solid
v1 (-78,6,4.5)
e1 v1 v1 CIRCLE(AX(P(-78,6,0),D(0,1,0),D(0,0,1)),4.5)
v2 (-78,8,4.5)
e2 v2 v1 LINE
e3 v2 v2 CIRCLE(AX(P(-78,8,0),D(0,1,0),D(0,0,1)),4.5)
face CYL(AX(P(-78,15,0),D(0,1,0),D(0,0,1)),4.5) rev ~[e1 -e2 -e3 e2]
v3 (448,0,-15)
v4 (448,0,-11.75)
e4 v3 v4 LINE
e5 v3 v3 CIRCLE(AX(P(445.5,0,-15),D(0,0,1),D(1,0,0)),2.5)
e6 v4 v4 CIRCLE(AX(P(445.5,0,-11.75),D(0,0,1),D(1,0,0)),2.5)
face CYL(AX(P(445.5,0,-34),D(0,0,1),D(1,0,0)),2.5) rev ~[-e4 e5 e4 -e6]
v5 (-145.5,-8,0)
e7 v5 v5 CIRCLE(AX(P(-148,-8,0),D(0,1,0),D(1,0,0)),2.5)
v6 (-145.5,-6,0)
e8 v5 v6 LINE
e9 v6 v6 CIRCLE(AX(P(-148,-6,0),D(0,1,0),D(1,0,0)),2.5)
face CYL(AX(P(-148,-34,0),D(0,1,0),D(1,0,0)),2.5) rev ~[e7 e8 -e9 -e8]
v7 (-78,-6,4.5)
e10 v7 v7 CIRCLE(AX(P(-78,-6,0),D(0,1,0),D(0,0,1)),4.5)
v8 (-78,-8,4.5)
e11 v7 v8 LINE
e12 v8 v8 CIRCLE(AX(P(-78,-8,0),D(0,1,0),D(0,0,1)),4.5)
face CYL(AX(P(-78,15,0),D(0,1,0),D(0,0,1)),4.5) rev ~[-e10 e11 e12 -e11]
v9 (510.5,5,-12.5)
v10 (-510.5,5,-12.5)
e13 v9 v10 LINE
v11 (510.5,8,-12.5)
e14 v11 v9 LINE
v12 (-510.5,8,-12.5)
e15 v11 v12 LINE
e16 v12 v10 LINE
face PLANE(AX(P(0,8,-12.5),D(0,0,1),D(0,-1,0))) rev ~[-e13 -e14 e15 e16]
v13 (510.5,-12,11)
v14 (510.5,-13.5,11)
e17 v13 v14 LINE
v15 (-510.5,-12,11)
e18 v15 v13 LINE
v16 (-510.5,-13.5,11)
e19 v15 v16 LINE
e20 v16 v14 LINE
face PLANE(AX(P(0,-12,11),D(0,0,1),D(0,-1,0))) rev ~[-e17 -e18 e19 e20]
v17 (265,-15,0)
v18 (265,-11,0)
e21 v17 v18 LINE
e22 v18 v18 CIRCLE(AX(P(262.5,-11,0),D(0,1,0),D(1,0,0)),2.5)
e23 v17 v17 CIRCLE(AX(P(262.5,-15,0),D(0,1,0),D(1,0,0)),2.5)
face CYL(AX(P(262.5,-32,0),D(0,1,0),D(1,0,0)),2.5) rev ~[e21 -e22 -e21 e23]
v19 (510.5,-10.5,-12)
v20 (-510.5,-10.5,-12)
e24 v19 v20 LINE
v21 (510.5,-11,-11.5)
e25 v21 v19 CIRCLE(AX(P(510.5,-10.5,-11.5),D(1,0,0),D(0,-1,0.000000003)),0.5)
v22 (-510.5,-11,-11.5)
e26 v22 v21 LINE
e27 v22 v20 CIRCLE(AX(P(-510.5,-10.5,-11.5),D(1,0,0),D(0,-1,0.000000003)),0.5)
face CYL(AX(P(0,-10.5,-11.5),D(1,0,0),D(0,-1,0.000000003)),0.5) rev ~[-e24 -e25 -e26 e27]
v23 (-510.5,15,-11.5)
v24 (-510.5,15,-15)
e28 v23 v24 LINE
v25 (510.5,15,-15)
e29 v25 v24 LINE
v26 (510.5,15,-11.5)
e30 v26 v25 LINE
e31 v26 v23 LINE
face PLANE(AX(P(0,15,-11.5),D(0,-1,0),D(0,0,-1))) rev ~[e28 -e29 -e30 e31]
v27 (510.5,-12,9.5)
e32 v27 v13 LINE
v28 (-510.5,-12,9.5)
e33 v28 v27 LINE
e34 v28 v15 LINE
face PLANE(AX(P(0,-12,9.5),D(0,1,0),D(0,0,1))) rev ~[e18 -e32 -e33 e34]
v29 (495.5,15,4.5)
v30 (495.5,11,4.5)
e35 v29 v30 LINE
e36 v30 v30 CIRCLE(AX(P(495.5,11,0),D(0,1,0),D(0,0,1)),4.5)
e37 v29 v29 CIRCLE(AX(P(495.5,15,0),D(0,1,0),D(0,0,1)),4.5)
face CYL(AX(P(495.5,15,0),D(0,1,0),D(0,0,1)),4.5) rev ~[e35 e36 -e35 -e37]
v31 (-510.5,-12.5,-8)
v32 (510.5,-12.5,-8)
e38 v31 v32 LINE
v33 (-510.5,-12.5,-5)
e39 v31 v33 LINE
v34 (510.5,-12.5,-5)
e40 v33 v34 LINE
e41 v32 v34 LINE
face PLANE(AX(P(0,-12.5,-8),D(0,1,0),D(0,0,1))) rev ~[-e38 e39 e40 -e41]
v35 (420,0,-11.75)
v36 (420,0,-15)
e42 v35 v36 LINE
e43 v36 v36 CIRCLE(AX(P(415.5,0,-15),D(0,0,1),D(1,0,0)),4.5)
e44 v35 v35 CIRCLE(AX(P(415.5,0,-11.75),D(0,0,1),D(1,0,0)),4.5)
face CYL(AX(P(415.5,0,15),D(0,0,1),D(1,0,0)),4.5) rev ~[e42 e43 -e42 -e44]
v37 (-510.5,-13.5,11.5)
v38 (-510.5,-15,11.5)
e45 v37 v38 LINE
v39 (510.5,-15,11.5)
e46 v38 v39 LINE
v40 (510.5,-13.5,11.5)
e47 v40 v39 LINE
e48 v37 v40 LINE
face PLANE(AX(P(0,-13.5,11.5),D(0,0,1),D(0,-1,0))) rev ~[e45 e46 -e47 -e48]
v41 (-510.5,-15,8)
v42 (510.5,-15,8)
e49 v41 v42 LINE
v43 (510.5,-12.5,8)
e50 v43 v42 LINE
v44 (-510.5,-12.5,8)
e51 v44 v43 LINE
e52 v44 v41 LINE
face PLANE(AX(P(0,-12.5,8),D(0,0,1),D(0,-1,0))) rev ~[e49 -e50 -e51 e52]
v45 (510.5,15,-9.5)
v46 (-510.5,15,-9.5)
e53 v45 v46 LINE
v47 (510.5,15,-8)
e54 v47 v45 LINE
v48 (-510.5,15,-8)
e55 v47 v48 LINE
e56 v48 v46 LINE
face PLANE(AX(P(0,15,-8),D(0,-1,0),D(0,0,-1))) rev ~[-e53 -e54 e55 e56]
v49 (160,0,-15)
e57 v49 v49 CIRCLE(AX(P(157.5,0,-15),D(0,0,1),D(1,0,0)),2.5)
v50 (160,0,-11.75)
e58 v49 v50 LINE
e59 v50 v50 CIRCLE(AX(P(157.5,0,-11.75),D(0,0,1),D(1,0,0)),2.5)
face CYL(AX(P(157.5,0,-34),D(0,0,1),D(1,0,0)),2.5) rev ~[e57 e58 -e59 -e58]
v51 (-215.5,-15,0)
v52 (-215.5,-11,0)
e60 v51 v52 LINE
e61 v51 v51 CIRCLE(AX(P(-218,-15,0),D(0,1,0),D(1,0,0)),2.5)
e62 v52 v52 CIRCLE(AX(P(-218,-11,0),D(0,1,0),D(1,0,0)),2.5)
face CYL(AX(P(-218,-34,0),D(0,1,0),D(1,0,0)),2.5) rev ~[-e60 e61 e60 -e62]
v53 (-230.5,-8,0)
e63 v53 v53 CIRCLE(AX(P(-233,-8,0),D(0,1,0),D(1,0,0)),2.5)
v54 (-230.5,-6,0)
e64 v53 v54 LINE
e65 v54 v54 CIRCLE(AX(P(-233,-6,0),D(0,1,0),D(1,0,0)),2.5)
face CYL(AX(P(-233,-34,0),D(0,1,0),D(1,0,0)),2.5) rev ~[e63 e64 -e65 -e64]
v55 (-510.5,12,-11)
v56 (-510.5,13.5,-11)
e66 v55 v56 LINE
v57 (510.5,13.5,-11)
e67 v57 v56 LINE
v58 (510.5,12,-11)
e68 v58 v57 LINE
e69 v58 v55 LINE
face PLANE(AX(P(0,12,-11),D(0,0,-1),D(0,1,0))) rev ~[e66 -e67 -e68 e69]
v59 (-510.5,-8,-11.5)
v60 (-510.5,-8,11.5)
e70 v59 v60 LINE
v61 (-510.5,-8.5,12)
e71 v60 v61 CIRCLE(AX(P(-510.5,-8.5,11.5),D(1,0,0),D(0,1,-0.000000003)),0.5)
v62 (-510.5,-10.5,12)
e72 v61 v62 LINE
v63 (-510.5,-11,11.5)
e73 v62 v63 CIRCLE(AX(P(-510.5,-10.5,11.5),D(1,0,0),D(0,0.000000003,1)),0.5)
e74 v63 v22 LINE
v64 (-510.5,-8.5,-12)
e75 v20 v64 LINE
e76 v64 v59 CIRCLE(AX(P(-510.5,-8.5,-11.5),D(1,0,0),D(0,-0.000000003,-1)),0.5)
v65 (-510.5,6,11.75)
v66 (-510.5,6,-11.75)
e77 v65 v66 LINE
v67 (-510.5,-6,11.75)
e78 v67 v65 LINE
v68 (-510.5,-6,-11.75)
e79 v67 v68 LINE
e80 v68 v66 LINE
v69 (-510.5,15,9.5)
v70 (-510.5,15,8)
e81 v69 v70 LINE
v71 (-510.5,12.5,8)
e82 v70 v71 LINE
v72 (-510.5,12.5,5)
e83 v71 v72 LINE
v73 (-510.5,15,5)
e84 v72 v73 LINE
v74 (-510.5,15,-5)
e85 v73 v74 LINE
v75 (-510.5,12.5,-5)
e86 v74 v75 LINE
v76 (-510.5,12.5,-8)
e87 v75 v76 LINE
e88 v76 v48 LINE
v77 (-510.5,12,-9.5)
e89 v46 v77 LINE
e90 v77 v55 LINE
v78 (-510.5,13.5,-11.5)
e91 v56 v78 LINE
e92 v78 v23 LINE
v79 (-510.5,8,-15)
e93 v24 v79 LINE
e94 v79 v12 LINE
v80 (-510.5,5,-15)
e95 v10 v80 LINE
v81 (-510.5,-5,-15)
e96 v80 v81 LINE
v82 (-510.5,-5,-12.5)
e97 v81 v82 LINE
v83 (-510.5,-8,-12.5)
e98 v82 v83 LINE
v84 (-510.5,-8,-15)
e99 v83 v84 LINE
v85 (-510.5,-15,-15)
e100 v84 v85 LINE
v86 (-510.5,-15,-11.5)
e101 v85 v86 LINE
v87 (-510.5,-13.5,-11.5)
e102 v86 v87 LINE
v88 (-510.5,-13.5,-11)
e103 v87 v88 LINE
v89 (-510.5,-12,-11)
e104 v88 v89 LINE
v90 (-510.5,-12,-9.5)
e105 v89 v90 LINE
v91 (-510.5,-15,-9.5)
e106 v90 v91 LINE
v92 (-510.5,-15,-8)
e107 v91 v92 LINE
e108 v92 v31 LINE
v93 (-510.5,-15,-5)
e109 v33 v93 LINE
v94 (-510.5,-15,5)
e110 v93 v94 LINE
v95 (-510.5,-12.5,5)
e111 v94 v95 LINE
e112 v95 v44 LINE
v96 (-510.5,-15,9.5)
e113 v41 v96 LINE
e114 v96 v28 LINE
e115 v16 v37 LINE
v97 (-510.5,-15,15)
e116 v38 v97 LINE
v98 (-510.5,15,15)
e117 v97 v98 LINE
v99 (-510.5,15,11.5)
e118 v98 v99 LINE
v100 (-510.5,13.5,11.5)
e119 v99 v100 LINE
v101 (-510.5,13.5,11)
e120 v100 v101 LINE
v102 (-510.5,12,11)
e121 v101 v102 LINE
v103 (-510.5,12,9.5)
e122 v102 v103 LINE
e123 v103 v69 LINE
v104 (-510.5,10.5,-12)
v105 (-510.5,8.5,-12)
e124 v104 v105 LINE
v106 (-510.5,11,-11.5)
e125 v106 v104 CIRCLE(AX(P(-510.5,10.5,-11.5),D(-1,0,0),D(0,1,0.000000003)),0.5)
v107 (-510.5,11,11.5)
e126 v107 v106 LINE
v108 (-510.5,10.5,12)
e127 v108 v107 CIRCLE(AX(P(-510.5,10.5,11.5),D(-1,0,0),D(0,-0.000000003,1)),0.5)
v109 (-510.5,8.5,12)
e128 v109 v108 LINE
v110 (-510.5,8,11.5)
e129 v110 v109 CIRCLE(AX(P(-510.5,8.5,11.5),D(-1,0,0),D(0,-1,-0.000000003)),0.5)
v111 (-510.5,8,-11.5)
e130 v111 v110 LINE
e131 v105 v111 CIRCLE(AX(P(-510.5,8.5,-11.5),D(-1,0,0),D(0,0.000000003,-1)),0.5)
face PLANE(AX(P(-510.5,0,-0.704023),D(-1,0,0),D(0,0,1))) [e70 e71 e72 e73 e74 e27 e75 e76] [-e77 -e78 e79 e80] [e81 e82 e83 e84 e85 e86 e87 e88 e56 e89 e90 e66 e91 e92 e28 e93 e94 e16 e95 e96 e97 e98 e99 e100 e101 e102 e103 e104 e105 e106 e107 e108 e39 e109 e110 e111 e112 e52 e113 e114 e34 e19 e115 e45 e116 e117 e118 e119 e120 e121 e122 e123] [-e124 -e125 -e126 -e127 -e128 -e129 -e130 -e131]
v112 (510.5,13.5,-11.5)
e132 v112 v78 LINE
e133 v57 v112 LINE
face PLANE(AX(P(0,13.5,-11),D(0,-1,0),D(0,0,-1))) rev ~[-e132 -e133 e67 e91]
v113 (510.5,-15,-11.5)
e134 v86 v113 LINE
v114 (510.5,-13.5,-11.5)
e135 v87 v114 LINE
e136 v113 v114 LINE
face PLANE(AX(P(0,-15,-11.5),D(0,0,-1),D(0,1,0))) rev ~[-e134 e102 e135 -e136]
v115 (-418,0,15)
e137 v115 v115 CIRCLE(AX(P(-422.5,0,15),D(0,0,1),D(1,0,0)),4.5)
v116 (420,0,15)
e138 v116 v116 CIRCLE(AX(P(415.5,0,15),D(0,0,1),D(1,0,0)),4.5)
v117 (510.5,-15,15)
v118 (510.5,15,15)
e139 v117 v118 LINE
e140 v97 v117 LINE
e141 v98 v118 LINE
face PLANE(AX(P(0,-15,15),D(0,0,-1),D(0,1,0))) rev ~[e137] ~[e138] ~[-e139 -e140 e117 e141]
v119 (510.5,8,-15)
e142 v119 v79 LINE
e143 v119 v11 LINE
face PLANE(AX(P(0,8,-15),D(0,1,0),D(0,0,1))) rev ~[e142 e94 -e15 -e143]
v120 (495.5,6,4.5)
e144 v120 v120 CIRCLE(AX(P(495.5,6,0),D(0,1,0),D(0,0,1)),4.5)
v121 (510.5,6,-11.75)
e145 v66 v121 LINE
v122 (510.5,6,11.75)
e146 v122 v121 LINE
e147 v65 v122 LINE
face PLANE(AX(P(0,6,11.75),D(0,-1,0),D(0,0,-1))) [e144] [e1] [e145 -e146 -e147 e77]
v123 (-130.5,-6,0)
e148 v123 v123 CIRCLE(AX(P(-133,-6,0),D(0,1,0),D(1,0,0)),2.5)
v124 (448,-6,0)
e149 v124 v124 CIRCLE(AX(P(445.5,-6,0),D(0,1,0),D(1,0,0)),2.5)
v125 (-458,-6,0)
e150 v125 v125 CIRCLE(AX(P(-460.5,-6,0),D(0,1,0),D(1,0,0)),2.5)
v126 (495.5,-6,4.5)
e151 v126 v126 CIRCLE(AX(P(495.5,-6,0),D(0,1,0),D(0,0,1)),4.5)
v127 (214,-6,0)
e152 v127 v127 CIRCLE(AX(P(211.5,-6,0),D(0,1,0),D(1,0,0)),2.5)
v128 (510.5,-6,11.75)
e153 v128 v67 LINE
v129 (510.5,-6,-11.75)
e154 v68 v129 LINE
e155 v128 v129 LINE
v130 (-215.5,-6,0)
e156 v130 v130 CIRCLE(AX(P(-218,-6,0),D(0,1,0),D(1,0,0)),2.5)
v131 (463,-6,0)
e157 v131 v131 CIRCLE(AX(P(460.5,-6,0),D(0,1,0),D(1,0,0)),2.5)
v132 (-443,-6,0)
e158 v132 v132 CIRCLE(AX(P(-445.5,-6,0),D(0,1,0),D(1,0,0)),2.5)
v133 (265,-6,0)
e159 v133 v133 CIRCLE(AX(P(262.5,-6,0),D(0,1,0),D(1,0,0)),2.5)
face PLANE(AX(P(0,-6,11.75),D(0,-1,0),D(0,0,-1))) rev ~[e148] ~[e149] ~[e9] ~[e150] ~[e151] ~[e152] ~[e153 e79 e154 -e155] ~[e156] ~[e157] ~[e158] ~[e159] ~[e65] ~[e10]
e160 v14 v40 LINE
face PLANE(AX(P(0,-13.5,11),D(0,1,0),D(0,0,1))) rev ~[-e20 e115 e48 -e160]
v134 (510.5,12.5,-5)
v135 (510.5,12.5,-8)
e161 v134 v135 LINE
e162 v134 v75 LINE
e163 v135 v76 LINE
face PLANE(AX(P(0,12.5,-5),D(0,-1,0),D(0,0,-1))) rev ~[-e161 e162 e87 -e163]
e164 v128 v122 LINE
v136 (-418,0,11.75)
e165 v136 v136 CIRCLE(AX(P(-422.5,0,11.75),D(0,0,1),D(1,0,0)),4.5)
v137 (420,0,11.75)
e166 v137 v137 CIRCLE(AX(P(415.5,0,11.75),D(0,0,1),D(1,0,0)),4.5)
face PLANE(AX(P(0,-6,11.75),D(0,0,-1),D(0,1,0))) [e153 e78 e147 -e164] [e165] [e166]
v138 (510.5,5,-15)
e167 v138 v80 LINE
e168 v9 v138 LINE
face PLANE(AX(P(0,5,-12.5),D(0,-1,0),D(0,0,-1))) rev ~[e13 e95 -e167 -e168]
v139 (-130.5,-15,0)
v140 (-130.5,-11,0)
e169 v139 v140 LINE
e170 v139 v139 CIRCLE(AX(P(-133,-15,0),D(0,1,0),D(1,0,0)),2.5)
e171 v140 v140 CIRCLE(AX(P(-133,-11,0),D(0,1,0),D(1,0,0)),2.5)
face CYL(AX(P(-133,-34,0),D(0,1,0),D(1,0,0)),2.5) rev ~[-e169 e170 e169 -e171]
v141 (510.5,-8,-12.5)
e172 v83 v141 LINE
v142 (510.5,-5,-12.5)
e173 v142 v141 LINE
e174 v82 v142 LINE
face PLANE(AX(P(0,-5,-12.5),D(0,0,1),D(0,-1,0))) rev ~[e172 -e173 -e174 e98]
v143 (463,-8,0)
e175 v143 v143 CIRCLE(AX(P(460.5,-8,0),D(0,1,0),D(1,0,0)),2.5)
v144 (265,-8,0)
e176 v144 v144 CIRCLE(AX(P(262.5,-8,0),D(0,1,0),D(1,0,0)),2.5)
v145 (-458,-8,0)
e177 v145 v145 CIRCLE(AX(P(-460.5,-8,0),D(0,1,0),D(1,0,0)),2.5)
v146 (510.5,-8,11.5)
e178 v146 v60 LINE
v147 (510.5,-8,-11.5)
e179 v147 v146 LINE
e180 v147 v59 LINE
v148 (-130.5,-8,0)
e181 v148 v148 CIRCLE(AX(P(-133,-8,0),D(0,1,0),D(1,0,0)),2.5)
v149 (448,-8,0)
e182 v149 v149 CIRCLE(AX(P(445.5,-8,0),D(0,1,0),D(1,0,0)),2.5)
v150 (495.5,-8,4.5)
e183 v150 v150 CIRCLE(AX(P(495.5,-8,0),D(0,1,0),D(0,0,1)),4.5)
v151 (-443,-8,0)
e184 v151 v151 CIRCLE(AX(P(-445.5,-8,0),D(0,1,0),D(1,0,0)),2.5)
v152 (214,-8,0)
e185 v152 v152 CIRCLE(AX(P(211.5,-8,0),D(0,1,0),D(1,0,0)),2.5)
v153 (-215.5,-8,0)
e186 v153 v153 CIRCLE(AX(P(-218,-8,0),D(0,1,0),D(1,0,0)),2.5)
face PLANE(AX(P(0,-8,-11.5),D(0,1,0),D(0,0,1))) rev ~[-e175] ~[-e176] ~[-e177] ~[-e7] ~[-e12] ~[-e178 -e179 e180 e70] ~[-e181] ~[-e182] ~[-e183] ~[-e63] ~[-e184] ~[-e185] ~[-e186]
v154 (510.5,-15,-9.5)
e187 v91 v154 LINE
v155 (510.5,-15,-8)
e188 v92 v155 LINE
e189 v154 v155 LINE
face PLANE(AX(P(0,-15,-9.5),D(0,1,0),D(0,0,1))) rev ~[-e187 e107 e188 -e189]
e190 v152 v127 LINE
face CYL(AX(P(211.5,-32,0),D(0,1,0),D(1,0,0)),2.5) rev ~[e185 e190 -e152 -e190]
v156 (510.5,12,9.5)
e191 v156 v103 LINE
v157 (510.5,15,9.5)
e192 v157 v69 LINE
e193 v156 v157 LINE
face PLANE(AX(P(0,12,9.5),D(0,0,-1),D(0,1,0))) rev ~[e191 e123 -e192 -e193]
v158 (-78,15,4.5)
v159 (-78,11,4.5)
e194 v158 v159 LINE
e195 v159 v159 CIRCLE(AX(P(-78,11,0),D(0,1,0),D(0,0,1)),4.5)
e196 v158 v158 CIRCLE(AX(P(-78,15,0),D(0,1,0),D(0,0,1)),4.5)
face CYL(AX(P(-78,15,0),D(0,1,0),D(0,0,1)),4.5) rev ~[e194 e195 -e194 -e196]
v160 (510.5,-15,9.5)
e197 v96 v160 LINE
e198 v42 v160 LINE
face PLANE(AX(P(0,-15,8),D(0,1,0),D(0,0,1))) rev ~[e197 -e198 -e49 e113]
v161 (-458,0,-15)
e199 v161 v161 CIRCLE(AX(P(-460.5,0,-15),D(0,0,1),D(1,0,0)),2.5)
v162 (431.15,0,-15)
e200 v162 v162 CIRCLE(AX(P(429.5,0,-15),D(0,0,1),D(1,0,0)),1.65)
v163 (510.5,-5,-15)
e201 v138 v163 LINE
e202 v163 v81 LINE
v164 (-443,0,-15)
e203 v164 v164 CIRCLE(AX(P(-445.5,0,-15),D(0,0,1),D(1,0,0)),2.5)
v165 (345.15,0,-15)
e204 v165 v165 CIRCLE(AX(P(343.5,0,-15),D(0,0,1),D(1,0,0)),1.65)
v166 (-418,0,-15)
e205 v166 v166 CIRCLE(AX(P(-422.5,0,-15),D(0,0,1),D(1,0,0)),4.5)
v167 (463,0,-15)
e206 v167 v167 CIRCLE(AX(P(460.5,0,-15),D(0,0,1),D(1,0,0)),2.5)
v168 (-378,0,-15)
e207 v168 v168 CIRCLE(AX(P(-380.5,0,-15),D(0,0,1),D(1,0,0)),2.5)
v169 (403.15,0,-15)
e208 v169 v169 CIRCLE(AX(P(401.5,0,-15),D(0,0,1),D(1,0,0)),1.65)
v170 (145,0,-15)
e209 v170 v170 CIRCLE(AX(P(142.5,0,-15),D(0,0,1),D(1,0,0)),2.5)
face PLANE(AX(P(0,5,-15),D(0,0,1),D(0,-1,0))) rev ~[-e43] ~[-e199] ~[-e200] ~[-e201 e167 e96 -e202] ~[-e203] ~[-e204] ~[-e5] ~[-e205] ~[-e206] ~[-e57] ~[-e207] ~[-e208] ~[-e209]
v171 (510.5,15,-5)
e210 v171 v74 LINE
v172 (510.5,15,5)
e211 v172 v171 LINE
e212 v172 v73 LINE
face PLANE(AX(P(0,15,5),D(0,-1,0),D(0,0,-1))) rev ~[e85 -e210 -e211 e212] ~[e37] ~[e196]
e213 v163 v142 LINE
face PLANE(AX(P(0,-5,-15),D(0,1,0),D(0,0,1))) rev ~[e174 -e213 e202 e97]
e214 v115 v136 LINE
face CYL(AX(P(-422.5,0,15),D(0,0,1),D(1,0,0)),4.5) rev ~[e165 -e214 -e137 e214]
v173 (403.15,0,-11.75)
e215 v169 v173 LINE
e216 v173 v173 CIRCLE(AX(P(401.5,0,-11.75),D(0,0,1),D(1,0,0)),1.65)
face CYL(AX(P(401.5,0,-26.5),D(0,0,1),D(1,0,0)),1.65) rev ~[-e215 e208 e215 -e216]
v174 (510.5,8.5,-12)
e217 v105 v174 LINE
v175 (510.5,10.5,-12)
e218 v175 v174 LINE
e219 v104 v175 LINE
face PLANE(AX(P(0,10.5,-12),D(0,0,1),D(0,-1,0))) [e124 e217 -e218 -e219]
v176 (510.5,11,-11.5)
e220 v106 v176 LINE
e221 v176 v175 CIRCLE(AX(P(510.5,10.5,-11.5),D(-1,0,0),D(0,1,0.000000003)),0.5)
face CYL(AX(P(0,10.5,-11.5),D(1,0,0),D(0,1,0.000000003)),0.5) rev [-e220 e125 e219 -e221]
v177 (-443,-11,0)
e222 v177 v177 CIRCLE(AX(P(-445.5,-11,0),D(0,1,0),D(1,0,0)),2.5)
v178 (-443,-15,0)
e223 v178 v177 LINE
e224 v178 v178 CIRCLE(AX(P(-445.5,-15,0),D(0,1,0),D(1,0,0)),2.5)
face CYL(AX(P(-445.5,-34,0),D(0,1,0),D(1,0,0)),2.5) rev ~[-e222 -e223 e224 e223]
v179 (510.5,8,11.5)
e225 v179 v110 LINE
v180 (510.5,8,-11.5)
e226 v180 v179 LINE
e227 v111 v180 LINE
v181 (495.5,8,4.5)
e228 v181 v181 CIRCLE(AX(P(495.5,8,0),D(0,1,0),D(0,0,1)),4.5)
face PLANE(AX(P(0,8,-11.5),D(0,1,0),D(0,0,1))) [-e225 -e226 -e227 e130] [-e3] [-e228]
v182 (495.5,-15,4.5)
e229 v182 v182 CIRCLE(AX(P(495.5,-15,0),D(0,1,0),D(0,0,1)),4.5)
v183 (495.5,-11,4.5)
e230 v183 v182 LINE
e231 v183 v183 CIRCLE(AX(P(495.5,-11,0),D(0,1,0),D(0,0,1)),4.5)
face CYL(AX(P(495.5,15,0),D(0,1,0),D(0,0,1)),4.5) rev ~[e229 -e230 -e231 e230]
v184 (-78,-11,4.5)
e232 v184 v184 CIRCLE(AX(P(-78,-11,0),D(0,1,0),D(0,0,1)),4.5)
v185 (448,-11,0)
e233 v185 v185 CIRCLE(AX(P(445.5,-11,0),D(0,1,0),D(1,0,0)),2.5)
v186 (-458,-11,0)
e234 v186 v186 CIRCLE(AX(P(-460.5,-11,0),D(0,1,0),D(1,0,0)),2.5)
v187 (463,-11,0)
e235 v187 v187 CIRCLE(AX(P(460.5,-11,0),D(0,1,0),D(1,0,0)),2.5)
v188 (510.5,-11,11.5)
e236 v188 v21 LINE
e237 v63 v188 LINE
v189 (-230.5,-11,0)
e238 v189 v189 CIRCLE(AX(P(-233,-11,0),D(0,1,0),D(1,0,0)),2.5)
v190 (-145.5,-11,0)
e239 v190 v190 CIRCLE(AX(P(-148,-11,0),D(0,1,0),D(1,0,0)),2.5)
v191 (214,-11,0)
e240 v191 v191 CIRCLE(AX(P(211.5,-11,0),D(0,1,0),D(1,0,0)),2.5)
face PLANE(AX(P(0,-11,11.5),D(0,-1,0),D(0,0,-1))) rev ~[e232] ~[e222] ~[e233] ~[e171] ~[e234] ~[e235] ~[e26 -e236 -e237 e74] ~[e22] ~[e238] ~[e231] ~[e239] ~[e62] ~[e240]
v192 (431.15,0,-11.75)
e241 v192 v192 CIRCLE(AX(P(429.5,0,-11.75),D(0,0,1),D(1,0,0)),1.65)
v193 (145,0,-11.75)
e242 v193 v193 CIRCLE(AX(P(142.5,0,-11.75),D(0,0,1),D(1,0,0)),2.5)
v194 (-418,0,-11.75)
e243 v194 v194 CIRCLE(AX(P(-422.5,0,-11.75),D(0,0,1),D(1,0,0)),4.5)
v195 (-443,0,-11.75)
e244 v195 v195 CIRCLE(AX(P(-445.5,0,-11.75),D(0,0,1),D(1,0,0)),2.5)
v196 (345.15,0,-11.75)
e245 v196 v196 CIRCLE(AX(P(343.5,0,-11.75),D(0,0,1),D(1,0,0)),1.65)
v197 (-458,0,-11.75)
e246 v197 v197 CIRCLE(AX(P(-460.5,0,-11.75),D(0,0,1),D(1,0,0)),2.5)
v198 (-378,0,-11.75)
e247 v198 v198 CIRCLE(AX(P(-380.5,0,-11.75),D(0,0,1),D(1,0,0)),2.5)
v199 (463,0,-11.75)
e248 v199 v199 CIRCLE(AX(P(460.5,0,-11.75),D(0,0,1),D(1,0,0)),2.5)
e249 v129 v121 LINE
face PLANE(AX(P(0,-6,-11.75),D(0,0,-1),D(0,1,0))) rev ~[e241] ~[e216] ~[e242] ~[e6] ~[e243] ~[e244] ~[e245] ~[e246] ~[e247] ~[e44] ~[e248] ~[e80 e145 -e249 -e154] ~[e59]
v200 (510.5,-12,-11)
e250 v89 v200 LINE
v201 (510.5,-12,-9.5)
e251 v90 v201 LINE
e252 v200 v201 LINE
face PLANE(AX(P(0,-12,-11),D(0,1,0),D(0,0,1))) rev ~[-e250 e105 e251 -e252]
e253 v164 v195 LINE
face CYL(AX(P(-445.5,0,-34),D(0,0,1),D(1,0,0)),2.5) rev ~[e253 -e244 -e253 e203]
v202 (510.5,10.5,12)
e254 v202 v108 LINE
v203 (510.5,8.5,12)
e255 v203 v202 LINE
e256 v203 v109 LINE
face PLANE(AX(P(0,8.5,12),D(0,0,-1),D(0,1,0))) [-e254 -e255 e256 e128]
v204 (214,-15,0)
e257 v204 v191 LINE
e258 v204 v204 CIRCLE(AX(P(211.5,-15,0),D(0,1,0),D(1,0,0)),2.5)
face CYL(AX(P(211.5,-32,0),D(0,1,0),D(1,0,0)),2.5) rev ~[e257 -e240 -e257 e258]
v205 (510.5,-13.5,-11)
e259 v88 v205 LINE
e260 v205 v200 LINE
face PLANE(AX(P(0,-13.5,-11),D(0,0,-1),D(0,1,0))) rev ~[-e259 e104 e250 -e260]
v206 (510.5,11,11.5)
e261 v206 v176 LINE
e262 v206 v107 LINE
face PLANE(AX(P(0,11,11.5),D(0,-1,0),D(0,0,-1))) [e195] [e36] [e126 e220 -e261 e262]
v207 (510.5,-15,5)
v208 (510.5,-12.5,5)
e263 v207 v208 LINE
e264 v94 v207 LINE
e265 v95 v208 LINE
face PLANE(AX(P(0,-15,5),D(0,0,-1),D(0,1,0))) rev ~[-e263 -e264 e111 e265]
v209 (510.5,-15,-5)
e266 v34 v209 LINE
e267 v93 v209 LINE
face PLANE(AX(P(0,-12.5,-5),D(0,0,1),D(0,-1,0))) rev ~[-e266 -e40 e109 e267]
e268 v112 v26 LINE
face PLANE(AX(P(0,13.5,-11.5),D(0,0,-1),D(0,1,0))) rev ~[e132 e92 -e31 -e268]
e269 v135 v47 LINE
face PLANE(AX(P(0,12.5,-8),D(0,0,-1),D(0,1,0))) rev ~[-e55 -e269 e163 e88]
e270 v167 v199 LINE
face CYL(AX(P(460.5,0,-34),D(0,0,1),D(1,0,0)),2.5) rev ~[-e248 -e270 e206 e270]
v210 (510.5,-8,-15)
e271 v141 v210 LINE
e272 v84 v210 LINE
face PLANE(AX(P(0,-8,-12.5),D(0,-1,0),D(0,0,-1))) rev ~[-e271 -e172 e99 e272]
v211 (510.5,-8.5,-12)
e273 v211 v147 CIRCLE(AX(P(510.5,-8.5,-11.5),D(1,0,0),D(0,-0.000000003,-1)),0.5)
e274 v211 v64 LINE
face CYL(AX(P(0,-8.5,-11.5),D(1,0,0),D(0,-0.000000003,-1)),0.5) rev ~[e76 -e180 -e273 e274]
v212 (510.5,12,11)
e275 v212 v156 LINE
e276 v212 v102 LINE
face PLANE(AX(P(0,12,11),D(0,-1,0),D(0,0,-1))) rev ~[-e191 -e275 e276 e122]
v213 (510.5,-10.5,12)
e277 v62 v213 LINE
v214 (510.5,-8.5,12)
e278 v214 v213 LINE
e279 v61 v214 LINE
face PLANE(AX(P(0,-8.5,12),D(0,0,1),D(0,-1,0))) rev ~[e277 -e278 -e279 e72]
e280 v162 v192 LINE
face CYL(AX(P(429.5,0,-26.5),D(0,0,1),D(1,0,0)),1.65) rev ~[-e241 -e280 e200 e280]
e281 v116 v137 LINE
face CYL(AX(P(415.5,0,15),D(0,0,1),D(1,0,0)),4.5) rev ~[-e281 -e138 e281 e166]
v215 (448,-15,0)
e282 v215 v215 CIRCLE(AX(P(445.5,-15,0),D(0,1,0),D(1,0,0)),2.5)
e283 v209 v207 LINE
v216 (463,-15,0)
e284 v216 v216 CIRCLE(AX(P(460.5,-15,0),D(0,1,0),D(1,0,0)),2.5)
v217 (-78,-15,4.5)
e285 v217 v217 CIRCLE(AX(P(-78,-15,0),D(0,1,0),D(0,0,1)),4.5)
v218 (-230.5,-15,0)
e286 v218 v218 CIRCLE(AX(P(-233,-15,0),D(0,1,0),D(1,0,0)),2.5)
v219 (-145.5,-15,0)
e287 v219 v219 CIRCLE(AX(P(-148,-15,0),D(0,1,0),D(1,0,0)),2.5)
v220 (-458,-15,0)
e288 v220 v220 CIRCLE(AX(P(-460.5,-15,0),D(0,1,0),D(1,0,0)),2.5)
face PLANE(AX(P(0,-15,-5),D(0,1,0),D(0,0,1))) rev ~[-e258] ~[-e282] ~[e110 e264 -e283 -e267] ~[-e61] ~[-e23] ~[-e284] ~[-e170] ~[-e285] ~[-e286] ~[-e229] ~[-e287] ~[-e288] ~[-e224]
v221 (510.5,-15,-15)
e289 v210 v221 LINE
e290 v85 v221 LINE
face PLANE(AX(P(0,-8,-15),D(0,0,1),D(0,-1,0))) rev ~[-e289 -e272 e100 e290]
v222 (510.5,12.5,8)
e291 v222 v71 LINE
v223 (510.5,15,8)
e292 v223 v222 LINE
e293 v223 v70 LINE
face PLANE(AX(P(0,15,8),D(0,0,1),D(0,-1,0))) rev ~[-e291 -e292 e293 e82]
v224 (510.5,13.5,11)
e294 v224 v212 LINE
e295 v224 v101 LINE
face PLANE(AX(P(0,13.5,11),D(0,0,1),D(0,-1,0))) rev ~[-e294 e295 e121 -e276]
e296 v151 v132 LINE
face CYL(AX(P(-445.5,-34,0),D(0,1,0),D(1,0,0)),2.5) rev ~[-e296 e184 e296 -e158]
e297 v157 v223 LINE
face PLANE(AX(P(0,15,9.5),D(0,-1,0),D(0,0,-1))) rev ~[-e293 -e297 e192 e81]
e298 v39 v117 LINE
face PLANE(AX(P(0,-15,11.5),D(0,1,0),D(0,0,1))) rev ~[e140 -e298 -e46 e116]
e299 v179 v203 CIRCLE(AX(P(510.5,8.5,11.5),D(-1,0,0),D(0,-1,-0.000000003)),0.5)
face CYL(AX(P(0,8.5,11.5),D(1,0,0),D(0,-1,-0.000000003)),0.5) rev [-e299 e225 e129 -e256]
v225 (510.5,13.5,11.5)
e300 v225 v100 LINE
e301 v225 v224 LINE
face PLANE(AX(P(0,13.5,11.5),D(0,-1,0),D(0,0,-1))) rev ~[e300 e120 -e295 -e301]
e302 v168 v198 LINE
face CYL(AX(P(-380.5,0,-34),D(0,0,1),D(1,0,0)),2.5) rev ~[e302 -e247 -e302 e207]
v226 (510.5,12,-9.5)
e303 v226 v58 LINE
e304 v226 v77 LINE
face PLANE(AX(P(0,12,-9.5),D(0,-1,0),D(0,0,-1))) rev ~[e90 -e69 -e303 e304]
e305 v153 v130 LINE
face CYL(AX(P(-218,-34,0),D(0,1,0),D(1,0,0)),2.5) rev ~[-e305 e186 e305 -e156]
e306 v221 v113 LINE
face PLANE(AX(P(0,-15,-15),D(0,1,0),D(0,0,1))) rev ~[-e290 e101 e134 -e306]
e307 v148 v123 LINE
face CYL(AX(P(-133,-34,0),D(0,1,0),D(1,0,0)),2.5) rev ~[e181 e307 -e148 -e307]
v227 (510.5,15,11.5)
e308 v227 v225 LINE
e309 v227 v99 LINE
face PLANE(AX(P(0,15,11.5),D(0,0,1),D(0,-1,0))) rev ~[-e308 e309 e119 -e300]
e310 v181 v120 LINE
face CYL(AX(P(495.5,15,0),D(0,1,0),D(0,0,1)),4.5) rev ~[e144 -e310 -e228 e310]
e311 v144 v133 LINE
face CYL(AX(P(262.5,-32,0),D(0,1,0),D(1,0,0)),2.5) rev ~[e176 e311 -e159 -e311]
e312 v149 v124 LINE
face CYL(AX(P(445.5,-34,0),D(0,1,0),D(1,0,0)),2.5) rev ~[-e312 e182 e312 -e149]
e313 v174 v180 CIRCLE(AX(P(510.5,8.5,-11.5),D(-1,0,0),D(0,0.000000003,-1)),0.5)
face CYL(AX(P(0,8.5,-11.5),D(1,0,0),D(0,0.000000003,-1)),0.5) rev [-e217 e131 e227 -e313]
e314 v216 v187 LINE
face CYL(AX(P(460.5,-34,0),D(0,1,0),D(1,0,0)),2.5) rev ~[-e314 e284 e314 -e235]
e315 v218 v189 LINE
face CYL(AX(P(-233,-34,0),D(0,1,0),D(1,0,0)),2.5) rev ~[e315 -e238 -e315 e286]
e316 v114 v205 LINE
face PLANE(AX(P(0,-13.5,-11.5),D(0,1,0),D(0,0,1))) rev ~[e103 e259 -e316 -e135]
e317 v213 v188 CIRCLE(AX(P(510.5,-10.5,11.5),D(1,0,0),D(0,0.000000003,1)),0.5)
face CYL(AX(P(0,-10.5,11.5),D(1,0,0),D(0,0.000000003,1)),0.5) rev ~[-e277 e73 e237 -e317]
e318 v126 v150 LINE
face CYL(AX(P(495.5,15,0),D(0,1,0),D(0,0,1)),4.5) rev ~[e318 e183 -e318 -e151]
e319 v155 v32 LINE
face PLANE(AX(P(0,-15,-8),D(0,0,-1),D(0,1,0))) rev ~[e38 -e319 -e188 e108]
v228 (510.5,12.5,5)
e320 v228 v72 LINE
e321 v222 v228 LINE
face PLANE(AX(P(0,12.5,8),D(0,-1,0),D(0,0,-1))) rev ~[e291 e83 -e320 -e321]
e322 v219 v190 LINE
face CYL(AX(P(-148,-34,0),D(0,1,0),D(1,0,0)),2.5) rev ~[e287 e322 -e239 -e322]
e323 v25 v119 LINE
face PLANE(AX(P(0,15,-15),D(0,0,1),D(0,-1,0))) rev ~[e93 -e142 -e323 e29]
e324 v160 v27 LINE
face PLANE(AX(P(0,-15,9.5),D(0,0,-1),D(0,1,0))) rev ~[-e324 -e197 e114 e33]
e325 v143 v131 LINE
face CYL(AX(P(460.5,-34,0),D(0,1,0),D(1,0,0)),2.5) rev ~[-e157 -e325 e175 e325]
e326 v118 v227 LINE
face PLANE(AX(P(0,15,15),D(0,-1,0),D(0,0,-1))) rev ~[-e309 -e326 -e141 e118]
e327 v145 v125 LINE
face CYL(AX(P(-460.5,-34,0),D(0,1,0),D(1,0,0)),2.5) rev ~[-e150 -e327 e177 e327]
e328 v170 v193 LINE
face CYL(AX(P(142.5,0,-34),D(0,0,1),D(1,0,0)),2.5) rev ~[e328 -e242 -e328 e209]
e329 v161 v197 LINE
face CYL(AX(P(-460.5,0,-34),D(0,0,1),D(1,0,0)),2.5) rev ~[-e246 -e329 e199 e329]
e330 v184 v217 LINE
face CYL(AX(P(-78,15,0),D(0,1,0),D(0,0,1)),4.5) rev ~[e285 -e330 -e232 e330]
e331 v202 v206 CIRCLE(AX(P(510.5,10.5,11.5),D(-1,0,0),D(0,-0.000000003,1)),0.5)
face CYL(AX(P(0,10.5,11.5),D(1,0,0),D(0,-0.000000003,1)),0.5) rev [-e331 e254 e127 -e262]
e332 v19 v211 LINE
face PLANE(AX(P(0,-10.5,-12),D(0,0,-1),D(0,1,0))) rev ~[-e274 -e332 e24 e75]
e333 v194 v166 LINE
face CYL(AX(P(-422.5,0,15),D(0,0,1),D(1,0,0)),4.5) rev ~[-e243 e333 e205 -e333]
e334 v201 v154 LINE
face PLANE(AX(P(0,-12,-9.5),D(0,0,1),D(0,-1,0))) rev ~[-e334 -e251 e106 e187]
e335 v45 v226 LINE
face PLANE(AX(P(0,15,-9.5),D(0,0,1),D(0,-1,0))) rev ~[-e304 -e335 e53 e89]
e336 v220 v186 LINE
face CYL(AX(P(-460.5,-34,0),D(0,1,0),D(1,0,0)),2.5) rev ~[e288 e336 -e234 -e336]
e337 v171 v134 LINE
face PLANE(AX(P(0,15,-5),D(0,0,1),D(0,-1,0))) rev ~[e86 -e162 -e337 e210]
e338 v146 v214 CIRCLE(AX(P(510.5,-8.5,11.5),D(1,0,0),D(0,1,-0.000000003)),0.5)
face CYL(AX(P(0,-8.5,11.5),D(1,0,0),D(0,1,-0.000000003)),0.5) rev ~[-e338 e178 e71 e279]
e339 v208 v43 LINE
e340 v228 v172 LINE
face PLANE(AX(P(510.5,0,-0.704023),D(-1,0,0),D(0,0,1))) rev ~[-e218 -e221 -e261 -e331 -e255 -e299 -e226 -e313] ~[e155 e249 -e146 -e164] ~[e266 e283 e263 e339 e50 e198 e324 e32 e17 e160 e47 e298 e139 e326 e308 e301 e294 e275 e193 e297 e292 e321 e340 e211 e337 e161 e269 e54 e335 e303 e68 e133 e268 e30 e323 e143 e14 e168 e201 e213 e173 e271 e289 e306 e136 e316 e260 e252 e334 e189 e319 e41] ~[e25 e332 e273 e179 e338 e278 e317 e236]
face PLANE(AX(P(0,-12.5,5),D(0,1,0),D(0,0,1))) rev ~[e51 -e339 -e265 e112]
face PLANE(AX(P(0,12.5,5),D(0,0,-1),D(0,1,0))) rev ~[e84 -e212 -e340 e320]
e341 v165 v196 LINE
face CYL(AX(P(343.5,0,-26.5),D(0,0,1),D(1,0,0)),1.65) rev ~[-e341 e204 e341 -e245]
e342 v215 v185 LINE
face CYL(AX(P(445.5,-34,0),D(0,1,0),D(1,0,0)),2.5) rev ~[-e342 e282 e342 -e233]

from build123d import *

# Parameters (mm, degrees)
SKETCH_1_W             = 23.5
SKETCH_1_H             = 12
EXTRUDE_1_DEPTH        = 510.5
HOLE_WIZARD_M6_1_D     = 5
HOLE_WIZARD_M6_1_DEPTH = 19
HOLE_WIZARD_M6_1_TIP   = 1.502151548
HOLE_WIZARD_M6_2_D     = 5
HOLE_WIZARD_M6_2_DEPTH = 19
HOLE_WIZARD_M6_2_TIP   = 1.502151548
HOLE_WIZARD_M6_3_D     = 5
HOLE_WIZARD_M6_3_DEPTH = 17
HOLE_WIZARD_M6_3_TIP   = 1.502151548
SKETCH_9_R             = 4.5
CUT_EXTRUDE_1_DEPTH    = 512.600674355
SKETCH_10_R            = 4.5
CUT_EXTRUDE_2_DEPTH    = 512.600674355
HOLE_WIZARD_M4_1_D     = 3.3
HOLE_WIZARD_M4_1_DEPTH = 11.5
HOLE_WIZARD_M4_1_TIP   = 0.991420021
HOLE_WIZARD_M4_2_D     = 3.3
HOLE_WIZARD_M4_2_DEPTH = 11.5
HOLE_WIZARD_M4_2_TIP   = 0.991420021


with BuildPart() as part:
    # 草图1 → 凸台-拉伸1 (new, symmetric)
    with BuildSketch(Plane(origin=(0, 0, 0), x_dir=(0, 0, -1), z_dir=(1, 0, 0))):
        Polygon((-11.5, 15), (-15, 15), (-15, -15), (-11.5, -15), (-11.5, -13.5), (-11, -13.5), (-11, -12), (-9.5, -12), (-9.5, -15), (-8, -15), (-8, -12.5), (-5, -12.5), (-5, -15), (5, -15), (5, -12.5), (8, -12.5), (8, -15), (9.5, -15), (9.5, -12), (11, -12), (11, -13.5), (11.5, -13.5), (11.5, -15), (15, -15), (15, -8), (12.5, -8), (12.5, -5), (15, -5), (15, 5), (12.5, 5), (12.5, 8), (15, 8), (15, 15), (11.5, 15), (11.5, 13.5), (11, 13.5), (11, 12), (9.5, 12), (9.5, 15), (8, 15), (8, 12.5), (5, 12.5), (5, 15), (-5, 15), (-5, 12.5), (-8, 12.5), (-8, 15), (-9.5, 15), (-9.5, 12), (-11, 12), (-11, 13.5), (-11.5, 13.5), align=None)
        with BuildLine():
            Line((12, -8.5), (12, -10.5))
            ThreePointArc((12, -10.5), (11.853553391, -10.853553391), (11.5, -11))
            Line((11.5, -11), (-11.5, -11))
            ThreePointArc((-11.5, -11), (-11.853553391, -10.853553391), (-12, -10.5))
            Line((-12, -10.5), (-12, -8.5))
            ThreePointArc((-12, -8.5), (-11.853553391, -8.146446609), (-11.5, -8))
            Line((-11.5, -8), (11.5, -8))
            ThreePointArc((11.5, -8), (11.853553391, -8.146446609), (12, -8.5))
        make_face(mode=Mode.SUBTRACT)
        Rectangle(SKETCH_1_W, SKETCH_1_H, mode=Mode.SUBTRACT)
        with BuildLine():
            ThreePointArc((-12, 10.5), (-11.853553391, 10.853553391), (-11.5, 11))
            Line((-11.5, 11), (11.5, 11))
            ThreePointArc((11.5, 11), (11.853553391, 10.853553391), (12, 10.5))
            Line((12, 10.5), (12, 8.5))
            ThreePointArc((12, 8.5), (11.853553391, 8.146446609), (11.5, 8))
            Line((11.5, 8), (-11.5, 8))
            ThreePointArc((-11.5, 8), (-11.853553391, 8.146446609), (-12, 8.5))
            Line((-12, 8.5), (-12, 10.5))
        make_face(mode=Mode.SUBTRACT)
    extrude(amount=EXTRUDE_1_DEPTH, both=True)

    # M6 螺纹孔1
    with Locations(Plane(origin=(0, -15, 0), x_dir=(-1, 0, 0), z_dir=(0, -1, 0))):
        with Locations((-460.5, 0), (-445.5, 0), (133, 0), (148, 0), (218, 0), (233, 0), (445.5, 0), (460.5, 0)):
            Hole(HOLE_WIZARD_M6_1_D / 2, depth=HOLE_WIZARD_M6_1_DEPTH)
            with Locations((0, 0, -(HOLE_WIZARD_M6_1_DEPTH + HOLE_WIZARD_M6_1_TIP / 2))):  # 118° drill point
                Cone(0, HOLE_WIZARD_M6_1_D / 2, HOLE_WIZARD_M6_1_TIP, mode=Mode.SUBTRACT)

    # M6 螺纹孔2
    with Locations(Plane(origin=(0, 0, -15), x_dir=(-1, 0, 0), z_dir=(0, 0, -1))):
        with Locations((460.5, 0), (445.5, 0), (-142.5, 0), (-157.5, 0), (-445.5, 0), (-460.5, 0), (380.5, 0)):
            Hole(HOLE_WIZARD_M6_2_D / 2, depth=HOLE_WIZARD_M6_2_DEPTH)
            with Locations((0, 0, -(HOLE_WIZARD_M6_2_DEPTH + HOLE_WIZARD_M6_2_TIP / 2))):  # 118° drill point
                Cone(0, HOLE_WIZARD_M6_2_D / 2, HOLE_WIZARD_M6_2_TIP, mode=Mode.SUBTRACT)

    # M6 螺纹孔3
    with Locations(Plane(origin=(0, -15, 0), x_dir=(-1, 0, 0), z_dir=(0, -1, 0))):
        with Locations((-262.5, 0), (-211.5, 0)):
            Hole(HOLE_WIZARD_M6_3_D / 2, depth=HOLE_WIZARD_M6_3_DEPTH)
            with Locations((0, 0, -(HOLE_WIZARD_M6_3_DEPTH + HOLE_WIZARD_M6_3_TIP / 2))):  # 118° drill point
                Cone(0, HOLE_WIZARD_M6_3_D / 2, HOLE_WIZARD_M6_3_TIP, mode=Mode.SUBTRACT)

    # 草图9 → 切除-拉伸1 (cut, through all)
    with BuildSketch(Plane.XY.offset(15)):
        with Locations((415.5, 0)):
            Circle(SKETCH_9_R)
        with Locations((-422.5, 0)):
            Circle(SKETCH_9_R)
    extrude(amount=-CUT_EXTRUDE_1_DEPTH, mode=Mode.SUBTRACT)

    # 草图10 → 切除-拉伸2 (cut, through all)
    with BuildSketch(Plane(origin=(0, 15, 0), x_dir=(1, 0, 0), z_dir=(0, 1, 0))):
        with Locations((495.5, 0)):
            Circle(SKETCH_10_R)
        with Locations((-78, 0)):
            Circle(SKETCH_10_R)
    extrude(amount=-CUT_EXTRUDE_2_DEPTH, mode=Mode.SUBTRACT)

    # M4 螺纹孔1
    with Locations(Plane(origin=(0, 0, -15), x_dir=(-1, 0, 0), z_dir=(0, 0, -1))):
        with Locations((-429.5, 0), (-401.5, 0)):
            Hole(HOLE_WIZARD_M4_1_D / 2, depth=HOLE_WIZARD_M4_1_DEPTH)
            with Locations((0, 0, -(HOLE_WIZARD_M4_1_DEPTH + HOLE_WIZARD_M4_1_TIP / 2))):  # 118° drill point
                Cone(0, HOLE_WIZARD_M4_1_D / 2, HOLE_WIZARD_M4_1_TIP, mode=Mode.SUBTRACT)

    # M4 螺纹孔2
    with Locations(Plane(origin=(0, 0, -15), x_dir=(-1, 0, 0), z_dir=(0, 0, -1))):
        with Locations((-343.5, 0)):
            Hole(HOLE_WIZARD_M4_2_D / 2, depth=HOLE_WIZARD_M4_2_DEPTH)
            with Locations((0, 0, -(HOLE_WIZARD_M4_2_DEPTH + HOLE_WIZARD_M4_2_TIP / 2))):  # 118° drill point
                Cone(0, HOLE_WIZARD_M4_2_D / 2, HOLE_WIZARD_M4_2_TIP, mode=Mode.SUBTRACT)


solid = part.part
